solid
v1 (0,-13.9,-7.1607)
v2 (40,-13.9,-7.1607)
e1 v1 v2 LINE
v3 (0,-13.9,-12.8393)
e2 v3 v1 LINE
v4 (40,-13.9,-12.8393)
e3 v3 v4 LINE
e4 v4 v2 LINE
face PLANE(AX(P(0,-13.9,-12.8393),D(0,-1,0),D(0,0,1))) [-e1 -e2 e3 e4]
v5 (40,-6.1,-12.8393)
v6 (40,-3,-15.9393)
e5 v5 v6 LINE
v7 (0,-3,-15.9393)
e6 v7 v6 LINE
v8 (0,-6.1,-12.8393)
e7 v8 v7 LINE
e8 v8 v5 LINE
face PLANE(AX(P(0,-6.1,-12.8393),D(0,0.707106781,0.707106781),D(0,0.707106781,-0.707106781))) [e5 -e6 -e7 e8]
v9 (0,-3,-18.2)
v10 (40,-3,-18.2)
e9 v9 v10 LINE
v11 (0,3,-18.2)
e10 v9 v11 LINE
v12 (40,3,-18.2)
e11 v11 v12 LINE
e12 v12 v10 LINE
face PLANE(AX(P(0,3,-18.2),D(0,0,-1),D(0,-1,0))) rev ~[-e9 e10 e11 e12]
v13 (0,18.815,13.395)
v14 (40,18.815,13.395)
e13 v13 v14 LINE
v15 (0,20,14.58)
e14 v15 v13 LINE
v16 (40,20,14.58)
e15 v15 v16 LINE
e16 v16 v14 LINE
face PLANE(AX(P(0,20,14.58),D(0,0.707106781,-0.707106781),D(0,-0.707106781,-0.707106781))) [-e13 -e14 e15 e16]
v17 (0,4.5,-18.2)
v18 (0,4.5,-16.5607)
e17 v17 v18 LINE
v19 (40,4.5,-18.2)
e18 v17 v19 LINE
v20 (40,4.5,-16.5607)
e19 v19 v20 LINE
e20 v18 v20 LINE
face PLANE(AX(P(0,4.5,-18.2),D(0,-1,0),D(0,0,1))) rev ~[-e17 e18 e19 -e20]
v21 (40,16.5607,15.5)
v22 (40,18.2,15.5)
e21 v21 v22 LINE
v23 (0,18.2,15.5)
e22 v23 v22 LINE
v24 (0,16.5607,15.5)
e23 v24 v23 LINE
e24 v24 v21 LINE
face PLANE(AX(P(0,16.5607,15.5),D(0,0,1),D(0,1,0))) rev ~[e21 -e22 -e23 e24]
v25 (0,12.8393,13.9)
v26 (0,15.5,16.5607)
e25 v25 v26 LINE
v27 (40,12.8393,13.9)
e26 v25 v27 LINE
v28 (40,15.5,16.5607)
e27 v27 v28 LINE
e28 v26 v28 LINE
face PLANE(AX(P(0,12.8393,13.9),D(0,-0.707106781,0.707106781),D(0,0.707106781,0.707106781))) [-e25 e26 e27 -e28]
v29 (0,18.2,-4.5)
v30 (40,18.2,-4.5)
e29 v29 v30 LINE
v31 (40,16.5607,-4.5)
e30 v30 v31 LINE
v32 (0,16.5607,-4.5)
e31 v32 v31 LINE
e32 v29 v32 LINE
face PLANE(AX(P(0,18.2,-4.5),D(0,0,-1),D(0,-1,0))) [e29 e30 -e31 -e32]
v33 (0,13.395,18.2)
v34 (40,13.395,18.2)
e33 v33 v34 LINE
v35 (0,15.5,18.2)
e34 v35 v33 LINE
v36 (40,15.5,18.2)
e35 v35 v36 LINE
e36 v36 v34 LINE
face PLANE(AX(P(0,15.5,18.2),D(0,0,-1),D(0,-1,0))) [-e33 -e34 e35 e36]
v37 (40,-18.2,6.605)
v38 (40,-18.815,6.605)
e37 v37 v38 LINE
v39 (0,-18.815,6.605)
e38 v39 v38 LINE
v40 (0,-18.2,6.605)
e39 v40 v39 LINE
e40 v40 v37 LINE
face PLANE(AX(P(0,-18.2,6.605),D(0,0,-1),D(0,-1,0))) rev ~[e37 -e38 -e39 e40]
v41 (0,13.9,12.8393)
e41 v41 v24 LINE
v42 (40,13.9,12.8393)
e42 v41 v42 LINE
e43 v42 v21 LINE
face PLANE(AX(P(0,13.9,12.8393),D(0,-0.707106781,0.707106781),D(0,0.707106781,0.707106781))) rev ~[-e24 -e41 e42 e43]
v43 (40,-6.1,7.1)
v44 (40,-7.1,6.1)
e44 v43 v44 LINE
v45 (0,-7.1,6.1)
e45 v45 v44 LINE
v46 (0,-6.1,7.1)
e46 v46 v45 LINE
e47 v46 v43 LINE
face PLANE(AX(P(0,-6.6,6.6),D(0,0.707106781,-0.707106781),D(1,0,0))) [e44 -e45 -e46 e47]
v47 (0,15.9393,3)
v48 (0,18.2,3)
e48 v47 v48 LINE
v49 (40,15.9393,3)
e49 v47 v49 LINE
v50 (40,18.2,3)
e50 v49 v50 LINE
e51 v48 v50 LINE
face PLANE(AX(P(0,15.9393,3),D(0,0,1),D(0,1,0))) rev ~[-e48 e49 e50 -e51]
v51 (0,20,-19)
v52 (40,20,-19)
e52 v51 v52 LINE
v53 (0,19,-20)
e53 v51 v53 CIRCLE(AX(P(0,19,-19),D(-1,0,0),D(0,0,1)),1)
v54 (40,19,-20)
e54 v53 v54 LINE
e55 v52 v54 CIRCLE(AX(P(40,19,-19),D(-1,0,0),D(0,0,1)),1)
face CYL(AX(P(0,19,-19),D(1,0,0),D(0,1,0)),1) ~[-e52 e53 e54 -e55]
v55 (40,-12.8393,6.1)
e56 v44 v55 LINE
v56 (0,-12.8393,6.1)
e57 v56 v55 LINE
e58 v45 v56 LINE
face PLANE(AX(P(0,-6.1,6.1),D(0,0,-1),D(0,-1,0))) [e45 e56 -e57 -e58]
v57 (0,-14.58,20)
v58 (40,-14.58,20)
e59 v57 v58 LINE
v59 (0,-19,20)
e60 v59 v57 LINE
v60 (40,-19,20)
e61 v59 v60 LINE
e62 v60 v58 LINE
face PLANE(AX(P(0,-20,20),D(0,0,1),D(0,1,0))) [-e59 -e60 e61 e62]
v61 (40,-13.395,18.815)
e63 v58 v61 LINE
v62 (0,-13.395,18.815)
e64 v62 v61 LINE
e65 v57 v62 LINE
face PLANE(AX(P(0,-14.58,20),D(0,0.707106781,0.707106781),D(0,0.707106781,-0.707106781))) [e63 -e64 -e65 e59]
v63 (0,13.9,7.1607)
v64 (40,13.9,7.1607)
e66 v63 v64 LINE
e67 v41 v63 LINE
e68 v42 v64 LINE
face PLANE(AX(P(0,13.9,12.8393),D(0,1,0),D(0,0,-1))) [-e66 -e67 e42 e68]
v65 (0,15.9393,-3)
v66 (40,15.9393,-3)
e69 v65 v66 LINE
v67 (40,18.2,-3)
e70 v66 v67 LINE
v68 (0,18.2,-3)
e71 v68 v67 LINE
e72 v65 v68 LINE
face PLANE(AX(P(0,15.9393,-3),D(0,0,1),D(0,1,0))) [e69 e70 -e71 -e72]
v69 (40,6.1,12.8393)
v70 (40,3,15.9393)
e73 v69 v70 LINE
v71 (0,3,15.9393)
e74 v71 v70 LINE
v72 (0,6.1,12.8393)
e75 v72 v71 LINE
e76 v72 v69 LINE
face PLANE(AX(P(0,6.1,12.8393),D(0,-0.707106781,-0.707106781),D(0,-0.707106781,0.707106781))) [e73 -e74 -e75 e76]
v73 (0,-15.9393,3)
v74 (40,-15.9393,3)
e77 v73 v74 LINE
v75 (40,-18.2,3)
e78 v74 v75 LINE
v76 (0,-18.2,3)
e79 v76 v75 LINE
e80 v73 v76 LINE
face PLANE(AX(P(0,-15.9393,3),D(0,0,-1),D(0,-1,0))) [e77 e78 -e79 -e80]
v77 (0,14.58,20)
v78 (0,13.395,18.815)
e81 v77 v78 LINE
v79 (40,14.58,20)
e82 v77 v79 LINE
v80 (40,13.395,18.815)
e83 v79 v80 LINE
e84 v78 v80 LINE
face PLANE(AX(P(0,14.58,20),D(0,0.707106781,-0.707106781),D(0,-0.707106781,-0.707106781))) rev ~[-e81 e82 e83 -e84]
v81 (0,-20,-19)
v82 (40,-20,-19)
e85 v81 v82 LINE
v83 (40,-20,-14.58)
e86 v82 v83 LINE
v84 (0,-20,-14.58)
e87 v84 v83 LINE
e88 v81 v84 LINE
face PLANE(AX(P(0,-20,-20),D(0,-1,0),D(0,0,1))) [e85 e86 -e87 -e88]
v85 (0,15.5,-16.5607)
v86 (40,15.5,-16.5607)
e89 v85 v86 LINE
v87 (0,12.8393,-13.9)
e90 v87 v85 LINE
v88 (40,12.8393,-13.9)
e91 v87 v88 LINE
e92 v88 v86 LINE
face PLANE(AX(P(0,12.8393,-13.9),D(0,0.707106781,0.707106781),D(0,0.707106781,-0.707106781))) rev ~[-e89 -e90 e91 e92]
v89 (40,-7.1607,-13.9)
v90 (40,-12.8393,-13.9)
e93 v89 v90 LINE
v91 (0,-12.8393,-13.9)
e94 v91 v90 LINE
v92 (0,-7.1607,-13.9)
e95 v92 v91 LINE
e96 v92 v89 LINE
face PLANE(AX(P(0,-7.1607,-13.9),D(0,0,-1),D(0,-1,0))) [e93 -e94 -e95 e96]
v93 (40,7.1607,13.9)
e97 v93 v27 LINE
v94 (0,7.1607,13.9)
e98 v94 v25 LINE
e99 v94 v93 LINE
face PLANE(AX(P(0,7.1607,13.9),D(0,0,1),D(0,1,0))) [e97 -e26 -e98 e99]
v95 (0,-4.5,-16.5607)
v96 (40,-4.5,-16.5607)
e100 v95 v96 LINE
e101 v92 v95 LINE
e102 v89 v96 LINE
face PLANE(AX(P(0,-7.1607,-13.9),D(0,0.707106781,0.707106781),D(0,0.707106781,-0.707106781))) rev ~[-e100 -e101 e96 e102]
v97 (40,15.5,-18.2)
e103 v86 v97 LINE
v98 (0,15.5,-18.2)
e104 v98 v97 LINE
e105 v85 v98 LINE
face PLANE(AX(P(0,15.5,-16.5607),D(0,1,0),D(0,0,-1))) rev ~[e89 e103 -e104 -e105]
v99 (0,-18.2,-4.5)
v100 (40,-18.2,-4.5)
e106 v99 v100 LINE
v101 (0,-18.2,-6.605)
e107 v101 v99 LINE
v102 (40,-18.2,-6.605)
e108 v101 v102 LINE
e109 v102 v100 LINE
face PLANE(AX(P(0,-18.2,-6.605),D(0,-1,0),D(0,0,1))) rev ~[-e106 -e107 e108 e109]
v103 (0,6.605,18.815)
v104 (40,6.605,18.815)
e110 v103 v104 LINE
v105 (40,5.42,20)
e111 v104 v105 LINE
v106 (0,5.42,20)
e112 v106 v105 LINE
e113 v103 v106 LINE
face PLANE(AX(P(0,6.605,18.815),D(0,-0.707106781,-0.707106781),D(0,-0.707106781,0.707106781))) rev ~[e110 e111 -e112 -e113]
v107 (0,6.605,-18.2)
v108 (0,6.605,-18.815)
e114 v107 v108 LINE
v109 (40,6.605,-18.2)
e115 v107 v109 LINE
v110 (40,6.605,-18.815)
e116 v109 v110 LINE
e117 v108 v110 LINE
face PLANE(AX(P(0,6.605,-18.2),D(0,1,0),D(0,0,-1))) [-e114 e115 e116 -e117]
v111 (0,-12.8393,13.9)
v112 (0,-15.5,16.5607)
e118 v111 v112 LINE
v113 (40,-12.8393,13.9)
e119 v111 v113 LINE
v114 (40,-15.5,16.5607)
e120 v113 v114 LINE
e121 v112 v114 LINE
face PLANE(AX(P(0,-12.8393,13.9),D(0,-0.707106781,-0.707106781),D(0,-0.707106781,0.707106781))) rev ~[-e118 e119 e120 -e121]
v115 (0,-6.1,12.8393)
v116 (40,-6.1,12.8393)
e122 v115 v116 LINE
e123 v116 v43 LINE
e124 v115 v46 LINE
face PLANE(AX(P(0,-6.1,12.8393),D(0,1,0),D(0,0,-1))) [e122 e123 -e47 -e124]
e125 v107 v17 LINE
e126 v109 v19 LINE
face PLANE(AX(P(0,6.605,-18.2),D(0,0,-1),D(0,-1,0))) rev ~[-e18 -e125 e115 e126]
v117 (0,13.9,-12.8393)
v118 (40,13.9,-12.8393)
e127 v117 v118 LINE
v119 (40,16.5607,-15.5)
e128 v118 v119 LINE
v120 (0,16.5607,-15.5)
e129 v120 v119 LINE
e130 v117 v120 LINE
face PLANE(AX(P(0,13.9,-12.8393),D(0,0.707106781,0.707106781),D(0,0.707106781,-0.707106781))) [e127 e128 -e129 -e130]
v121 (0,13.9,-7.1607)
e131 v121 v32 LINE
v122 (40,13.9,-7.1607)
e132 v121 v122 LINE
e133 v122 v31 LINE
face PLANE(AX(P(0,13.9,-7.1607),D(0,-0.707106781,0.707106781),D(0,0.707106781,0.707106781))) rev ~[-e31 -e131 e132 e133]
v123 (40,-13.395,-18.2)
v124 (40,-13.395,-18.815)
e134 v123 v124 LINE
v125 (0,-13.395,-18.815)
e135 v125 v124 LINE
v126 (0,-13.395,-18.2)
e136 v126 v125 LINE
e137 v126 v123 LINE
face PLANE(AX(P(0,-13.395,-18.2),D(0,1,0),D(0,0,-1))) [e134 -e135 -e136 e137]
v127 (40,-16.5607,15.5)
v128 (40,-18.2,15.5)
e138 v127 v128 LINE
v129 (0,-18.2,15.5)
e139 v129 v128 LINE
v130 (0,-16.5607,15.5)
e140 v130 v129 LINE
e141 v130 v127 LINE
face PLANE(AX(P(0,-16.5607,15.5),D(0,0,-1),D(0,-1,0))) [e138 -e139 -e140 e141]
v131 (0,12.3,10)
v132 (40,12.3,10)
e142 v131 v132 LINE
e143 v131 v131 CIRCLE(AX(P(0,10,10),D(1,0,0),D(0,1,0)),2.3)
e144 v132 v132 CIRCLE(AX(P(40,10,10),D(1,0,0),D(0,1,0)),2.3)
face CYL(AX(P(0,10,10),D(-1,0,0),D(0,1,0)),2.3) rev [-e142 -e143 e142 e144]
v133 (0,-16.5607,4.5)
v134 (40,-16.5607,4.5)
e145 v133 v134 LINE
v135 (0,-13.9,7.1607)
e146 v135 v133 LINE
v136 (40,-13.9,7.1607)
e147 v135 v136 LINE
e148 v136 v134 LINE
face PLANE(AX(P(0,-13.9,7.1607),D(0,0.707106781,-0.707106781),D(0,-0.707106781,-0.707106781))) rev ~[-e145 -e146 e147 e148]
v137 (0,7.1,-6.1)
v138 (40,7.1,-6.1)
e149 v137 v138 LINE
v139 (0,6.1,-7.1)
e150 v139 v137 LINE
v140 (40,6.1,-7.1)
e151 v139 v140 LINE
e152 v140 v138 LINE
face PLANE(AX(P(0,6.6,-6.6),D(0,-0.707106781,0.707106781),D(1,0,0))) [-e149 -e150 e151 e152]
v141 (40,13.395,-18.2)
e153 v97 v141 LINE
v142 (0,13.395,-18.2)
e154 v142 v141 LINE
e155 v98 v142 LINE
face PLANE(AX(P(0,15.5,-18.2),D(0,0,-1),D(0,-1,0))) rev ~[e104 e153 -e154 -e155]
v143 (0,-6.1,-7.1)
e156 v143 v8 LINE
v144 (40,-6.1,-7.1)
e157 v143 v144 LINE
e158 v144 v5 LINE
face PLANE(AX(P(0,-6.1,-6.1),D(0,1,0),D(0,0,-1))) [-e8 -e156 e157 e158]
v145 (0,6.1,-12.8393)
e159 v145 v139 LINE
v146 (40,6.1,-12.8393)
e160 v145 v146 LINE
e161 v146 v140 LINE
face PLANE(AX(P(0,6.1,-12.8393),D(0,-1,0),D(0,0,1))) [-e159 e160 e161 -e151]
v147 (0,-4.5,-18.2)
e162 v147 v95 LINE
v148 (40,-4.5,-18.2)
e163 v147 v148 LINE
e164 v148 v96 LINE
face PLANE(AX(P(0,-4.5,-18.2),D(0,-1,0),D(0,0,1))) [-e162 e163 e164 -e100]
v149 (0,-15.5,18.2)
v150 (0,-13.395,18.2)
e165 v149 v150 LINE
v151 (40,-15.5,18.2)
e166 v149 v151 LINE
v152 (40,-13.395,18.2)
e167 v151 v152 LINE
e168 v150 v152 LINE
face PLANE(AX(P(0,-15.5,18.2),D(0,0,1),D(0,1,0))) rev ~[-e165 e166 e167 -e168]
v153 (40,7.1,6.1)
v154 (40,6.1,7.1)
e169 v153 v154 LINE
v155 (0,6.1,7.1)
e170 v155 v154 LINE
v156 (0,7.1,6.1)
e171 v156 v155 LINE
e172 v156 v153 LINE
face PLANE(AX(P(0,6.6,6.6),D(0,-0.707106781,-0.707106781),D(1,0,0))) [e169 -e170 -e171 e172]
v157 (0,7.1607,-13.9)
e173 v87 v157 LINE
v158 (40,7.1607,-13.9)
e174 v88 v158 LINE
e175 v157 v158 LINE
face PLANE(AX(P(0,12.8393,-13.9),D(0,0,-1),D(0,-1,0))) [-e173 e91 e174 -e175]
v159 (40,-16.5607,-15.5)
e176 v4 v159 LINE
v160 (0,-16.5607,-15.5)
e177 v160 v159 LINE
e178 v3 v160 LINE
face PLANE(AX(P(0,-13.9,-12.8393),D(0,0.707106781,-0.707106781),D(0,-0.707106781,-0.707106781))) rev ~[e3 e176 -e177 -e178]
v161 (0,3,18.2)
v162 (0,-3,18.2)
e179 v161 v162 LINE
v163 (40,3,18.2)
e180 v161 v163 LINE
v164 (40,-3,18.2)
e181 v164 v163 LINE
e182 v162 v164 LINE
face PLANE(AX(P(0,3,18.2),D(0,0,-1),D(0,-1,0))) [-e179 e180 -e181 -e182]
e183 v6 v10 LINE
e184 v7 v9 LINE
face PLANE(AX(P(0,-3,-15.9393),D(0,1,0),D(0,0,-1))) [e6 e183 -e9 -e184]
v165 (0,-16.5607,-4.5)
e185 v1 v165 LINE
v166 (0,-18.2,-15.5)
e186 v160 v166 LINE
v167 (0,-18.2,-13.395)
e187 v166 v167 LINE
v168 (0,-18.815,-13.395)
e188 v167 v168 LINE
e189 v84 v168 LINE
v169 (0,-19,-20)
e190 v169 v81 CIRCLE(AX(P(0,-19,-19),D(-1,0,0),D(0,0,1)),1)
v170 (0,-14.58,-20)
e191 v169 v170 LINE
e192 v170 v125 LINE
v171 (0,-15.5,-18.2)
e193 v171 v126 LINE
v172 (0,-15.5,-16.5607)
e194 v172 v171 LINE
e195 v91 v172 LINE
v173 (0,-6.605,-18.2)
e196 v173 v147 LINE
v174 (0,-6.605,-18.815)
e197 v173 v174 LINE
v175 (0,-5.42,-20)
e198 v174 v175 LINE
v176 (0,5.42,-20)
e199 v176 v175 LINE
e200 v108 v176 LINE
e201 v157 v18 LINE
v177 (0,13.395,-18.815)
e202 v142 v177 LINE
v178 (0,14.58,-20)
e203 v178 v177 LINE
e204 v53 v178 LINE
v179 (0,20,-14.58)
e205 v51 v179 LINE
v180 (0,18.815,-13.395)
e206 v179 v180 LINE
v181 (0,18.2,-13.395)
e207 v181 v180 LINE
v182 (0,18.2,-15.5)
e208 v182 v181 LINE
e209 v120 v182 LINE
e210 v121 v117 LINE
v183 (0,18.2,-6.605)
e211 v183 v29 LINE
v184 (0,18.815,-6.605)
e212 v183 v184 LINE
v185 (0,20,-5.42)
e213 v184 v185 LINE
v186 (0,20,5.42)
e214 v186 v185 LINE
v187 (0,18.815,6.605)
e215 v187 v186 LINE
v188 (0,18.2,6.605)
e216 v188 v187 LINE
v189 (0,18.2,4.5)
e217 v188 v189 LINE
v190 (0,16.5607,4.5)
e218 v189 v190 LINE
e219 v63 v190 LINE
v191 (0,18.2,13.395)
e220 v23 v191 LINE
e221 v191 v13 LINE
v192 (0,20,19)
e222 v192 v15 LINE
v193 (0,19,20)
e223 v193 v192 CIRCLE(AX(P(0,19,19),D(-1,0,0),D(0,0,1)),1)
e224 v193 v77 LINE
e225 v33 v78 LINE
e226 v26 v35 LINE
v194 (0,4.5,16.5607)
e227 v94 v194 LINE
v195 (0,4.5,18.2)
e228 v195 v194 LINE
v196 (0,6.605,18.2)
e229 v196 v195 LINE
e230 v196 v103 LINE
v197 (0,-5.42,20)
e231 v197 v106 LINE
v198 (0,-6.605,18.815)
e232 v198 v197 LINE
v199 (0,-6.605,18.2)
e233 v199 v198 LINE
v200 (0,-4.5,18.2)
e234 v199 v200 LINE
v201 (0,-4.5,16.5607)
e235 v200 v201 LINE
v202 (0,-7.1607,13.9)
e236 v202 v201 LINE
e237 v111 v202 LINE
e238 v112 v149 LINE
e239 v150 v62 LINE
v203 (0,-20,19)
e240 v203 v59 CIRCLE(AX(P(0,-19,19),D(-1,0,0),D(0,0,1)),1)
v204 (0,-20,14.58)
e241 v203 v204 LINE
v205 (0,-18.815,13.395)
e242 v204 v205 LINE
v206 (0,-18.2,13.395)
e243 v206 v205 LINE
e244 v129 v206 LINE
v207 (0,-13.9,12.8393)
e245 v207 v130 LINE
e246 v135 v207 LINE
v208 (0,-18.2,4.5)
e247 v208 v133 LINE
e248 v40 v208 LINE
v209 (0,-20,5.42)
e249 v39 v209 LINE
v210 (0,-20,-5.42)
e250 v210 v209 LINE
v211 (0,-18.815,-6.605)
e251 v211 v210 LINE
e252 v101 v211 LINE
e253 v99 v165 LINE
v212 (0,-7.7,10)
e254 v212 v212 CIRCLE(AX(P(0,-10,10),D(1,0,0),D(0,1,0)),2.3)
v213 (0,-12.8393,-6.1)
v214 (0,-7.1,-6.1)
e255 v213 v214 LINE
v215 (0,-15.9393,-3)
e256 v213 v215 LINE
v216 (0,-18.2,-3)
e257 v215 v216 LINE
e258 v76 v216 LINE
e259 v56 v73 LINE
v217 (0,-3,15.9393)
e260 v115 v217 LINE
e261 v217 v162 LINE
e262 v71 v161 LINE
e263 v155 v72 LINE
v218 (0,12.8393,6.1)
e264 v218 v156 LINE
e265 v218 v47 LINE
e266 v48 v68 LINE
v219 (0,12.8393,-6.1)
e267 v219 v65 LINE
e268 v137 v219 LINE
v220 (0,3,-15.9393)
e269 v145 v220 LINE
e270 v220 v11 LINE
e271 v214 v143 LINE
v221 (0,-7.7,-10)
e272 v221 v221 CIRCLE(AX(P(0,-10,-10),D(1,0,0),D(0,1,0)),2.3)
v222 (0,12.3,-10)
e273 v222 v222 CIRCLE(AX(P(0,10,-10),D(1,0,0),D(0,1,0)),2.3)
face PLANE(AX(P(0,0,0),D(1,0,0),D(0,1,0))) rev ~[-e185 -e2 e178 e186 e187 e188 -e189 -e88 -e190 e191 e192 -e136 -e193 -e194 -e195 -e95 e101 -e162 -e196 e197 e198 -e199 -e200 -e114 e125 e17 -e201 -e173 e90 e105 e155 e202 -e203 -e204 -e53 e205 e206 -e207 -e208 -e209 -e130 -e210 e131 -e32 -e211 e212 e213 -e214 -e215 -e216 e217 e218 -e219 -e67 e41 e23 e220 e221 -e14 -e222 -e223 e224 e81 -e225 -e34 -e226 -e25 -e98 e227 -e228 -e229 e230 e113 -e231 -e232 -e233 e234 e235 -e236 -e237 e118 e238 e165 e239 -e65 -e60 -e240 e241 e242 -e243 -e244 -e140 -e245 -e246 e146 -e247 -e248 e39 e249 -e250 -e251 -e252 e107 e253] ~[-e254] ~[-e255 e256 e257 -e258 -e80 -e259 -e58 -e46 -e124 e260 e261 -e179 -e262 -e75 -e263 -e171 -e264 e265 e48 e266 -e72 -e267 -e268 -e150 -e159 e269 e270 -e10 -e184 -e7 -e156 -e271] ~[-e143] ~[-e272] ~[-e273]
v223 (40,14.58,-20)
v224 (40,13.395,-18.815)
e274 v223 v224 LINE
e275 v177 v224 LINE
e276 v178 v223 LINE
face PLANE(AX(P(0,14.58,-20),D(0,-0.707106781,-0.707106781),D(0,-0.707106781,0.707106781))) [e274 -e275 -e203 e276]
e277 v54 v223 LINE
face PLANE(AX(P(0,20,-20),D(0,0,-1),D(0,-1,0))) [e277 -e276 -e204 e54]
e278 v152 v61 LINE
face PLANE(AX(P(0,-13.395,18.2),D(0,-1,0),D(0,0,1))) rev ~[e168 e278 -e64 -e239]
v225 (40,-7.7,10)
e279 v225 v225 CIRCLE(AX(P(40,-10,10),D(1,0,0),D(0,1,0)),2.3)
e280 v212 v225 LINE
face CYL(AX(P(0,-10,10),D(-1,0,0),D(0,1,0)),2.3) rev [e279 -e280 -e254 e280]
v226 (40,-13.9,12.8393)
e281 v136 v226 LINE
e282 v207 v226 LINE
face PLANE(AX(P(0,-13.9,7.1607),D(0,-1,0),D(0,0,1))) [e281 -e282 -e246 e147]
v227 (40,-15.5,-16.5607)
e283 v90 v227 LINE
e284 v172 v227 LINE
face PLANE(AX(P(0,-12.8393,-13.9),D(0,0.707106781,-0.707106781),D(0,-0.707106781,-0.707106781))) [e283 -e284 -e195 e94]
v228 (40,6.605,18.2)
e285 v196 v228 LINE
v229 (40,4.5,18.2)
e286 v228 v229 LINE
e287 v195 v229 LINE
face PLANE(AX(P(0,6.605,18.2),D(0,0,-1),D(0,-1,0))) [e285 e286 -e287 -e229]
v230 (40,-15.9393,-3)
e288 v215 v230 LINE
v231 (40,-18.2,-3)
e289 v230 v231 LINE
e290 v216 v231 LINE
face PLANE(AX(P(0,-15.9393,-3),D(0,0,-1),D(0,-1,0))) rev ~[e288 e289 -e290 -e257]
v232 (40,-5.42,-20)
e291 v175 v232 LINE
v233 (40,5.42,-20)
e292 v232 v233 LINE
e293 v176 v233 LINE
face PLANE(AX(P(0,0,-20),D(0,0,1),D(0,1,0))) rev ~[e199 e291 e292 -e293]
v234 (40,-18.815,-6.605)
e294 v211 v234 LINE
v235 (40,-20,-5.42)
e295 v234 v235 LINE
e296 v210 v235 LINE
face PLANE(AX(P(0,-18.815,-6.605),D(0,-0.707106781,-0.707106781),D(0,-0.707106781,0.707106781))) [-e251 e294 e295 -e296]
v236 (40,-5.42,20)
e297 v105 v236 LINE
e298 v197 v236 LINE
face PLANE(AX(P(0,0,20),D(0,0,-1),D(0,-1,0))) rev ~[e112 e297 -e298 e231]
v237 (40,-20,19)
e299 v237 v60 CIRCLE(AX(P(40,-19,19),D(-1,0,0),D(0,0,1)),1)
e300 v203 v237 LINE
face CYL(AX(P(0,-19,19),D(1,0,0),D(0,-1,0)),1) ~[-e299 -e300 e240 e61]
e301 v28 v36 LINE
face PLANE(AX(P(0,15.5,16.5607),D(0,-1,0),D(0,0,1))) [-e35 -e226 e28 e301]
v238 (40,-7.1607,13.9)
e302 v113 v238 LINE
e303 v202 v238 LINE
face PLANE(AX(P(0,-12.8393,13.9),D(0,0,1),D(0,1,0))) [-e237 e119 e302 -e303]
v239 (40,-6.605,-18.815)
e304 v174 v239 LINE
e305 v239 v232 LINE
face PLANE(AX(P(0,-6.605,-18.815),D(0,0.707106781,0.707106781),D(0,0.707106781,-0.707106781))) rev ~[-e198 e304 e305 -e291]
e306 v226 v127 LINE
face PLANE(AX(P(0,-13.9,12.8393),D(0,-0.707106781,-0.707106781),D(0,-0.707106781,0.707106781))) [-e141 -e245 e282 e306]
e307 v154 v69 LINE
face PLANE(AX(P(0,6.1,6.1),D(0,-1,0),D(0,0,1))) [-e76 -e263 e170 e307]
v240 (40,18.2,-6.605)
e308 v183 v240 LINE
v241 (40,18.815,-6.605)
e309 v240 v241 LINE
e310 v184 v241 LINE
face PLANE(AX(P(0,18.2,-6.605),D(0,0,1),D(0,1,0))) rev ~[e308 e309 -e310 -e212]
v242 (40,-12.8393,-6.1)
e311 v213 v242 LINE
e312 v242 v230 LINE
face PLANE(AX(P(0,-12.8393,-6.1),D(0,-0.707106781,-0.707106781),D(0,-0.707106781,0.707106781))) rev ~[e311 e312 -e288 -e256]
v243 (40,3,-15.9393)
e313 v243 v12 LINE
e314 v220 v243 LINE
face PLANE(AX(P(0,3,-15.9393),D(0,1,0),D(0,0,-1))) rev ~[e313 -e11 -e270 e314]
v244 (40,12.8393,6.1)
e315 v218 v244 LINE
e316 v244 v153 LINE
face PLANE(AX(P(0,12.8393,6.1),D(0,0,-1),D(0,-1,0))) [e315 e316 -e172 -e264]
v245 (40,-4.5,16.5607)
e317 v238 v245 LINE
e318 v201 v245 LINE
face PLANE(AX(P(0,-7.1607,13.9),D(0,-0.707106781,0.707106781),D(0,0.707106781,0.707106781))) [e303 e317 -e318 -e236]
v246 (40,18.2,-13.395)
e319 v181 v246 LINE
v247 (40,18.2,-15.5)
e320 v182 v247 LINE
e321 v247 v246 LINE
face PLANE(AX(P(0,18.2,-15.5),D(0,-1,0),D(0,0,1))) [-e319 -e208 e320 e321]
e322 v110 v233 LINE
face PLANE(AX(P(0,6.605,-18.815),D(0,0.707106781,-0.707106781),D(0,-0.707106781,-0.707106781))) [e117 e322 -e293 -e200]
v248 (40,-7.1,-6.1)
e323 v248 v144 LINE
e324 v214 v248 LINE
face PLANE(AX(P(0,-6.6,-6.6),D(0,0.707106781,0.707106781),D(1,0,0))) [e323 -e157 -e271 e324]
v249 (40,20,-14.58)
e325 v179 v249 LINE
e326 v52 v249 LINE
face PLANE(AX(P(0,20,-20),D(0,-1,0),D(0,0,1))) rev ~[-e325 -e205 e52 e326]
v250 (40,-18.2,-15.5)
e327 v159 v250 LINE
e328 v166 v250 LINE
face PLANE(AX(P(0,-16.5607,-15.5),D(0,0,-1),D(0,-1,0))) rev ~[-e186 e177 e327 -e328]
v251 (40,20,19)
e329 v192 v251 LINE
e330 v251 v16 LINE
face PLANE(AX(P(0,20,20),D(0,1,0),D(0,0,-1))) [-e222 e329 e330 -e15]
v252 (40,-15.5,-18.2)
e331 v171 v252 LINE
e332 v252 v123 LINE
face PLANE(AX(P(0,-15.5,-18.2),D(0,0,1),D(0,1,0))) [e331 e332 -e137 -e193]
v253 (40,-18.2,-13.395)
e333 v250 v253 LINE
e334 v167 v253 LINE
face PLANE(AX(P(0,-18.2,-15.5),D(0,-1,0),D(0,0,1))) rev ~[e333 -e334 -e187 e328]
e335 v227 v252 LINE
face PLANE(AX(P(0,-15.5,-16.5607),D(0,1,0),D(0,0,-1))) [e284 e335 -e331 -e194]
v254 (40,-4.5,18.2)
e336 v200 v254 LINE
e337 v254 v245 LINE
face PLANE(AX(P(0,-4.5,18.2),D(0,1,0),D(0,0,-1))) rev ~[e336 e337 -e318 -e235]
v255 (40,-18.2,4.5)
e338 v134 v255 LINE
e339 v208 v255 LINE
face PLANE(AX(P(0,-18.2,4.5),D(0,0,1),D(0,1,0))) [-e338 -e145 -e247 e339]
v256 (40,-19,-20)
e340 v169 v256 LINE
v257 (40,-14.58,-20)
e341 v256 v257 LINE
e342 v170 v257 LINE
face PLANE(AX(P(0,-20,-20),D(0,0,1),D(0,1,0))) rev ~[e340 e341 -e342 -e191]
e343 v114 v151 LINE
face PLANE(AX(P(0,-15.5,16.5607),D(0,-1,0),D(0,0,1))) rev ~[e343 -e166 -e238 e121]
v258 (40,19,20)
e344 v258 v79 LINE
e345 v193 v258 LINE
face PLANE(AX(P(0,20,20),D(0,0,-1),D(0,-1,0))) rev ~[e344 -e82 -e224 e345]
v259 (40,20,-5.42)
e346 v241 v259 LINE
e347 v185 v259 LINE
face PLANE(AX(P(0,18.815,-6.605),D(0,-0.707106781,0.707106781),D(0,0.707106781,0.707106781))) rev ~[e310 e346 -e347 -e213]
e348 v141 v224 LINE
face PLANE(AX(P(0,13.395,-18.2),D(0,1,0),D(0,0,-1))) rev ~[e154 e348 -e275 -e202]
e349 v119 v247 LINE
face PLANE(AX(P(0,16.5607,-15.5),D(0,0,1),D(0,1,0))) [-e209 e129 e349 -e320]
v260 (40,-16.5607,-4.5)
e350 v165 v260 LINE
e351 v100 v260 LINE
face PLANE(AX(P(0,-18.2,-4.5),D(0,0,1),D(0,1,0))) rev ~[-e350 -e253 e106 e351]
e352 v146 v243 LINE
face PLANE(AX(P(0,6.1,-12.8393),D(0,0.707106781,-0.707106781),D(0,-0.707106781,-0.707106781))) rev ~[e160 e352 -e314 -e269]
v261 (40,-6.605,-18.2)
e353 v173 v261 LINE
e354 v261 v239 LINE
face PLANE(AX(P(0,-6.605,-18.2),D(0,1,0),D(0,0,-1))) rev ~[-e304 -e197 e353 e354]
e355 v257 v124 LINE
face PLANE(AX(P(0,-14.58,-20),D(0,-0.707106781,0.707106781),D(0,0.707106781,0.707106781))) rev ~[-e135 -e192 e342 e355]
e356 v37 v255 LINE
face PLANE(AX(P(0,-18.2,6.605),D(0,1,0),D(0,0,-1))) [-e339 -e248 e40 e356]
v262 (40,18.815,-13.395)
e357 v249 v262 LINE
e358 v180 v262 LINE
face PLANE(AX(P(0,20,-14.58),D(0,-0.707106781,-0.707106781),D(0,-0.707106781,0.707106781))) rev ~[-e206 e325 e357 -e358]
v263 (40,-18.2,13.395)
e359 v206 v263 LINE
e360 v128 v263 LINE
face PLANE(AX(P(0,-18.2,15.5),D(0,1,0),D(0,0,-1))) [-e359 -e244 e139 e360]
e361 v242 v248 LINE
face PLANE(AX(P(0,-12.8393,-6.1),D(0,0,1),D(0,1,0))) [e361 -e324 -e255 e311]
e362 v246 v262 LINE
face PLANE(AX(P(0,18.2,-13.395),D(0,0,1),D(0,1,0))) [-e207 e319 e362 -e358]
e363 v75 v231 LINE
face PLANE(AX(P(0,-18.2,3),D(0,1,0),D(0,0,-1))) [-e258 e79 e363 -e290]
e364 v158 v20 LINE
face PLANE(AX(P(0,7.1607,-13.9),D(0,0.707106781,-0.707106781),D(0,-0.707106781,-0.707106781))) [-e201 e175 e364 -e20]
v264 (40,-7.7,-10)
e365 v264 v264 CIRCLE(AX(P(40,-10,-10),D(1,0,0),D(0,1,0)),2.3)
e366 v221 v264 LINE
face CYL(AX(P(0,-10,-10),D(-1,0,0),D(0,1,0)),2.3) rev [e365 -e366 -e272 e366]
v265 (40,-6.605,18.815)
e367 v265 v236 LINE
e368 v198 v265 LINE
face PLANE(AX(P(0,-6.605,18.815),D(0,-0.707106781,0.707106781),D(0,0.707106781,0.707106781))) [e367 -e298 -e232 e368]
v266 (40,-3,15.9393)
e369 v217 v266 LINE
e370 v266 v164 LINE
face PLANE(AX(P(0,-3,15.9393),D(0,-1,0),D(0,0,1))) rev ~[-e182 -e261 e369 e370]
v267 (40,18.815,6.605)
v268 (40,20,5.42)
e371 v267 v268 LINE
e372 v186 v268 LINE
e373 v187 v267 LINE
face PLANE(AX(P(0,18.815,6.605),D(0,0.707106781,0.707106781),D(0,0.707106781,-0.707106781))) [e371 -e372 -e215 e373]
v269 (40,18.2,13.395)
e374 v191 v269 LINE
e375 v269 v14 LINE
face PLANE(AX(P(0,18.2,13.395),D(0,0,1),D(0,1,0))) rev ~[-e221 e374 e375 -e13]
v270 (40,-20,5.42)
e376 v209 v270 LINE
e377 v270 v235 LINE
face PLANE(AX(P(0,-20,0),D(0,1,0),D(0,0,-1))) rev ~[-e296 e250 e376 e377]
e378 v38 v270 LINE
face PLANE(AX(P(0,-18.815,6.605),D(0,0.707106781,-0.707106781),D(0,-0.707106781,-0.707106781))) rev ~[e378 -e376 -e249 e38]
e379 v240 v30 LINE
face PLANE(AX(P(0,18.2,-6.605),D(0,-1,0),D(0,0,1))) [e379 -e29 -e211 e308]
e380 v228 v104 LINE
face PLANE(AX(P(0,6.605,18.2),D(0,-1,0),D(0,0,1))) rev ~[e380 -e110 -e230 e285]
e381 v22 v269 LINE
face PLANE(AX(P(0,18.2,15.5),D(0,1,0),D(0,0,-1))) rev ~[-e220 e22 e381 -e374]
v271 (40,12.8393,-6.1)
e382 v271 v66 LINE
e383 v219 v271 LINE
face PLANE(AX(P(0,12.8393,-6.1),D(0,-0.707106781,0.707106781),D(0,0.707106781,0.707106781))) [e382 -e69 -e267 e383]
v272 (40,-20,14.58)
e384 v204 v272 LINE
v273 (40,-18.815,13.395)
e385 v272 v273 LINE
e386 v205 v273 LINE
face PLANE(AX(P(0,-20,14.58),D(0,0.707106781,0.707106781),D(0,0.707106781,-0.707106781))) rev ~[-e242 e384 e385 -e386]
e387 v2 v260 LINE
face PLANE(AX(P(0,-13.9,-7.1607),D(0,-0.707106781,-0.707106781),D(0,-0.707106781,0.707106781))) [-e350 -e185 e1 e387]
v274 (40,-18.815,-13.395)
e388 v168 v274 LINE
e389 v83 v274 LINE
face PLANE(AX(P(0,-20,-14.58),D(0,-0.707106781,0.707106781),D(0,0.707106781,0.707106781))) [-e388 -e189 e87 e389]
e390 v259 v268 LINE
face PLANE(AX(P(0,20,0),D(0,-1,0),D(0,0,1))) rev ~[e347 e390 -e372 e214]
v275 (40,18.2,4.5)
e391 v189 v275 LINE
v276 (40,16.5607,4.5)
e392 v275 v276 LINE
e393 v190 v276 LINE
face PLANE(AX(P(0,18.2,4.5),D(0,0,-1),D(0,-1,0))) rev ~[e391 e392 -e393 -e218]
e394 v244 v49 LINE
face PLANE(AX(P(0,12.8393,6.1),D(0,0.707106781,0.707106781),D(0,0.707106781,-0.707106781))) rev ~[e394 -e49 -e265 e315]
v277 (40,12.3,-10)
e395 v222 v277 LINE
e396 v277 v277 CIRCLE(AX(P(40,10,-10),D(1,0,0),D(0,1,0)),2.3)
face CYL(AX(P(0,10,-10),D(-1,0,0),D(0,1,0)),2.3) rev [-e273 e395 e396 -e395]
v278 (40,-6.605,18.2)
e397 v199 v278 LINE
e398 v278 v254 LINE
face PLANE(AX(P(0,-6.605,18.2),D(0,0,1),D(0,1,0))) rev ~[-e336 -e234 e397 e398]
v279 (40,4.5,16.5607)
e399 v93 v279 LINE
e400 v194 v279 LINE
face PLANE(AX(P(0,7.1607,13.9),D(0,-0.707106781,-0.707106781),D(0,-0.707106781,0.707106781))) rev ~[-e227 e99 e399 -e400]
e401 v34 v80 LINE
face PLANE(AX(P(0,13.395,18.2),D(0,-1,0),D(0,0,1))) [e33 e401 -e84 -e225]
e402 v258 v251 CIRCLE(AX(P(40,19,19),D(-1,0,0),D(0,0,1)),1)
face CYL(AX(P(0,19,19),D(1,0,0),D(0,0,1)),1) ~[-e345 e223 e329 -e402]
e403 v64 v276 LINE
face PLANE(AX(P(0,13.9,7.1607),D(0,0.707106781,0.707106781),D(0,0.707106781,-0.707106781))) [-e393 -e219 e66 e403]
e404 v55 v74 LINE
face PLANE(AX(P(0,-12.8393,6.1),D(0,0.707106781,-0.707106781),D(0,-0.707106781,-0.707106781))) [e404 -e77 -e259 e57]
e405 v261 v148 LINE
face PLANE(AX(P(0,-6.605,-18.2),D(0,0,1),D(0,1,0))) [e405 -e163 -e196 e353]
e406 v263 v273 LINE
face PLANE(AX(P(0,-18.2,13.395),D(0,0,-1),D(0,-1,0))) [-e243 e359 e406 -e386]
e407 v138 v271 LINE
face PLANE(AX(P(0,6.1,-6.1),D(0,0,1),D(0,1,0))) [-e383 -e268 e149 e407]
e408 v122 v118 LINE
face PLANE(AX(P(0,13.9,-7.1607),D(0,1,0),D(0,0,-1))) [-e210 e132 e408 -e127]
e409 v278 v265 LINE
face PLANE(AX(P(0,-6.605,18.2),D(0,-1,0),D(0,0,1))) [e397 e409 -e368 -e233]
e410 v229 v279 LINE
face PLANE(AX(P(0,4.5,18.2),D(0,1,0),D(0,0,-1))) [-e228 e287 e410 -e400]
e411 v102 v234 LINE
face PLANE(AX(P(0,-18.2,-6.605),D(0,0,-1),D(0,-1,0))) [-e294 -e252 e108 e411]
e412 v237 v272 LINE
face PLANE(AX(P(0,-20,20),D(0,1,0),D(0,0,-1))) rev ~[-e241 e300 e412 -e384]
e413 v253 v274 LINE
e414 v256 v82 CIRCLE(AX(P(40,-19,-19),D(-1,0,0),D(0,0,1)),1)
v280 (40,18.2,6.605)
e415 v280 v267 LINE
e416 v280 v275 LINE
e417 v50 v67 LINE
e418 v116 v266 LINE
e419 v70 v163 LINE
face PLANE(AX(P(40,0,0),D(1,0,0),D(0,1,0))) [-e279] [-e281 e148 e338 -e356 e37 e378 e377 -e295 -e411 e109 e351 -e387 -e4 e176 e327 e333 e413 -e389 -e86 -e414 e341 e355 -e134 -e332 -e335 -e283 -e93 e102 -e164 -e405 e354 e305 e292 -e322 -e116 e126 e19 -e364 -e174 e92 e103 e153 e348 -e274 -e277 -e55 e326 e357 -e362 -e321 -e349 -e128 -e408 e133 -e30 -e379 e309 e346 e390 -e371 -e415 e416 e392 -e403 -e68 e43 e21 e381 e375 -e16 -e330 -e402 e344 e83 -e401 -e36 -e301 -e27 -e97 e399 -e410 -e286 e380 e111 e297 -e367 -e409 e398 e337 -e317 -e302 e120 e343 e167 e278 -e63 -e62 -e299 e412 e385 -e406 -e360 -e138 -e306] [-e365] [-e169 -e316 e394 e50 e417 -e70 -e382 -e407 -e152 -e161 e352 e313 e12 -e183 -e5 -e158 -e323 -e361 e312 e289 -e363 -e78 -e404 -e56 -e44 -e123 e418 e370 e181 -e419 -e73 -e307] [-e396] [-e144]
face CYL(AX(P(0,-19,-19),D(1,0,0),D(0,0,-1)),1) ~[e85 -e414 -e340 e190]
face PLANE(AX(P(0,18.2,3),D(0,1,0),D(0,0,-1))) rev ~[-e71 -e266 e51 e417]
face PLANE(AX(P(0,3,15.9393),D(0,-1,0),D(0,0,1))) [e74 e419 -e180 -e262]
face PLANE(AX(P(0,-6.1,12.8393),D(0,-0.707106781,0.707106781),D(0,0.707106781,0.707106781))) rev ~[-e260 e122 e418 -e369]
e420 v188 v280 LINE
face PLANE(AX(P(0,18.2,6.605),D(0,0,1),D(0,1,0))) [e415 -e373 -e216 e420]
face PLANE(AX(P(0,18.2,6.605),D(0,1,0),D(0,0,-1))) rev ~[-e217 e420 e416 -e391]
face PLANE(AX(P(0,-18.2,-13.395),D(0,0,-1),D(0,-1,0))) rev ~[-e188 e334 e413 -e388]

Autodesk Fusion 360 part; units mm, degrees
sketch "Sketch1" plane through (0, 0, 0) normal (1, 0, 0) x (0, 1, 0)
  line L0 (20, 20) -> (-20, 20) construction
  line L1 (-20, 20) -> (-20, -20) construction
  line L2 (-20, -20) -> (20, -20) construction
  line L3 (20, -20) -> (20, 20) construction
  line L4 (20, 20) -> (-20, -20) construction
  line L5 (-20, 20) -> (20, -20) construction
  circle A0 centre (-10, 10) radius 2.3
  circle A1 centre (10, 10) radius 2.3
  circle A2 centre (-10, -10) radius 2.3
  circle A3 centre (10, -10) radius 2.3
  line L6 (18.2, 18.2) -> (-18.2, 18.2) construction
  line L7 (-18.2, 18.2) -> (-18.2, -18.2) construction
  line L8 (-18.2, -18.2) -> (18.2, -18.2) construction
  line L9 (18.2, -18.2) -> (18.2, 18.2) construction
  line L10 (-13.9, 12.8393) -> (-13.9, -12.8393) construction
  line L11 (-13.9, -13.9) -> (12.8393, -13.9) construction
  line L12 (13.9, -12.8393) -> (13.9, 12.8393) construction
  line L13 (10, 10) -> (-10, 10) construction
  line L14 (-10, 10) -> (-10, -10) construction
  line L15 (-10, -10) -> (10, -10) construction
  line L16 (10, -10) -> (10, 10) construction
  line L17 (10, 10) -> (-10, -10) construction
  line L18 (-10, 10) -> (10, -10) construction
  line L19 (6.1, 6.1) -> (-6.1, 6.1) construction
  line L20 (-6.1, 6.1) -> (-6.1, -6.1) construction
  line L21 (-6.1, -6.1) -> (6.1, -6.1) construction
  line L22 (6.1, -6.1) -> (6.1, 6.1) construction
  line L23 (-12.8393, 13.9) -> (-7.1607, 13.9)
  line L24 (-6.1, 12.8393) -> (-6.1, 6.1)
  line L25 (-6.1, 6.1) -> (-12.8393, 6.1)
  line L26 (-13.9, 6.1) -> (-13.9, 12.8393)
  line L27 (7.1607, 13.9) -> (12.8393, 13.9)
  line L28 (13.9, 12.8393) -> (13.9, 6.1)
  line L29 (13.9, 6.1) -> (6.1, 6.1)
  line L30 (6.1, 6.1) -> (6.1, 13.9)
  line L31 (-12.8393, -6.1) -> (-6.1, -6.1)
  line L32 (-6.1, -6.1) -> (-6.1, -12.8393)
  line L33 (-6.1, -13.9) -> (-13.9, -13.9)
  line L34 (-13.9, -12.8393) -> (-13.9, -6.1)
  line L35 (6.1, -6.1) -> (12.8393, -6.1)
  line L36 (13.9, -7.1607) -> (13.9, -12.8393)
  line L37 (12.8393, -13.9) -> (6.1, -13.9)
  line L38 (6.1, -12.8393) -> (6.1, -6.1)
  line L39 (-13.9, 12.8393) -> (-16.5607, 15.5)
  line L40 (-12.8393, 13.9) -> (-15.5, 16.5607)
  line L41 (-15.5, 16.5607) -> (-15.5, 18.2)
  line L42 (-16.5607, 15.5) -> (-18.2, 15.5)
  line L43 (-4.5, 18.2) -> (-4.5, 16.5607)
  line L44 (-18.2, 4.5) -> (-17.3803, 4.5)
  line L45 (-7.1607, 13.9) -> (-4.5, 16.5607)
  line L46 (-6.1, 12.8393) -> (-3, 15.9393)
  line L47 (-3, 15.9393) -> (-3, 18.2)
  line L48 (-15.5, 18.2) -> (-13.395, 18.2)
  line L49 (-6.605, 18.2) -> (-4.5, 18.2)
  line L50 (-20, 20) -> (-14.58, 20)
  line L51 (0, 20) -> (-5.42, 20)
  line L52 (-13.395, 18.2) -> (-13.395, 18.815)
  line L53 (-6.605, 18.2) -> (-6.605, 18.815)
  line L54 (-14.58, 20) -> (-13.395, 18.815)
  line L55 (-6.605, 18.815) -> (-5.42, 20)
  line L56 (-3, 18.2) -> (0, 18.2)
  line L57 (12.8393, 13.9) -> (-6.1, 13.9) construction
  line L58 (-7.1607, 13.9) -> (-13.9, 13.9) construction
  line L59 (-13.9, 13.9) -> (-13.9, 12.8393) construction
  line L60 (-6.1, 13.9) -> (-7.1607, 13.9) construction
  line L61 (-6.1, 13.9) -> (-6.1, 12.8393) construction
  line L62 (-20, 20) -> (-20, 14.58)
  line L63 (-18.2, 13.395) -> (-18.815, 13.395)
  line L64 (-18.2, 15.5) -> (-18.2, 13.395)
  line L65 (-16.5607, 15.5) -> (-18.2, 15.5)
  line L66 (-13.9, 12.8393) -> (-16.5607, 15.5)
  line L67 (-13.9, 12.8393) -> (-13.9, 7.1607)
  line L68 (-13.9, 7.1607) -> (-16.5607, 4.5)
  line L69 (-18.2, 4.5) -> (-16.5607, 4.5)
  line L70 (-18.2, 6.605) -> (-18.2, 4.5)
  line L71 (-18.2, 6.605) -> (-18.815, 6.605)
  line L72 (-18.815, 6.605) -> (-20, 5.42)
  line L73 (-20, 0) -> (-20, 5.42)
  line L74 (-20, 14.58) -> (-18.815, 13.395)
  line L75 (-12.8393, 6.1) -> (-15.9393, 3)
  line L76 (-15.9393, 3) -> (-18.2, 3)
  line L77 (18.2, 18.2) -> (18.2, -18.2) construction
  line L78 (18.2, -18.2) -> (-18.2, -18.2) construction
  line L79 (0, 0) -> (0, 6.1) construction
  line L80 (0, 0) -> (6.1, 0) construction
  line L81 (20, 20) -> (20, 14.58)
  line L82 (20, 14.58) -> (18.815, 13.395)
  line L83 (18.2, 13.395) -> (18.815, 13.395)
  line L84 (18.2, 15.5) -> (18.2, 13.395)
  line L85 (16.5607, 15.5) -> (18.2, 15.5)
  line L86 (13.9, 12.8393) -> (16.5607, 15.5)
  line L87 (13.9, 12.8393) -> (13.9, 7.1607)
  line L88 (18.2, 4.5) -> (16.5607, 4.5)
  line L89 (18.2, 6.605) -> (18.2, 4.5)
  line L90 (18.2, 6.605) -> (18.815, 6.605)
  line L91 (18.815, 6.605) -> (20, 5.42)
  line L92 (20, 0) -> (20, 5.42)
  line L93 (13.9, 7.1607) -> (16.5607, 4.5)
  line L94 (3, 18.2) -> (0, 18.2)
  line L95 (3, 15.9393) -> (3, 18.2)
  line L96 (6.1, 12.8393) -> (3, 15.9393)
  line L97 (6.1, 12.8393) -> (6.1, 6.1)
  line L98 (6.1, 6.1) -> (12.8393, 6.1)
  line L99 (15.9393, 3) -> (18.2, 3)
  line L100 (12.8393, 6.1) -> (15.9393, 3)
  line L101 (20, 20) -> (14.58, 20)
  line L102 (14.58, 20) -> (13.395, 18.815)
  line L103 (13.395, 18.2) -> (13.395, 18.815)
  line L104 (15.5, 18.2) -> (13.395, 18.2)
  line L105 (15.5, 16.5607) -> (15.5, 18.2)
  line L106 (12.8393, 13.9) -> (15.5, 16.5607)
  line L107 (7.1607, 13.9) -> (4.5, 16.5607)
  line L108 (4.5, 18.2) -> (4.5, 16.5607)
  line L109 (6.605, 18.2) -> (4.5, 18.2)
  line L110 (6.605, 18.2) -> (6.605, 18.815)
  line L111 (6.605, 18.815) -> (5.42, 20)
  line L112 (0, 20) -> (5.42, 20)
  line L113 (12.8393, 13.9) -> (7.1607, 13.9)
  line L114 (-20, -20) -> (-20, -14.58)
  line L115 (-20, -14.58) -> (-18.815, -13.395)
  line L116 (-18.2, -13.395) -> (-18.815, -13.395)
  line L117 (-18.2, -15.5) -> (-18.2, -13.395)
  line L118 (-16.5607, -15.5) -> (-18.2, -15.5)
  line L119 (-13.9, -12.8393) -> (-16.5607, -15.5)
  line L120 (-13.9, -12.8393) -> (-13.9, -7.1607)
  line L121 (-13.9, -7.1607) -> (-16.5607, -4.5)
  line L122 (-18.2, -4.5) -> (-16.5607, -4.5)
  line L123 (-18.2, -6.605) -> (-18.2, -4.5)
  line L124 (-18.2, -6.605) -> (-18.815, -6.605)
  line L125 (-18.815, -6.605) -> (-20, -5.42)
  line L126 (-20, 0) -> (-20, -5.42)
  line L127 (-3, -18.2) -> (0, -18.2)
  line L128 (-3, -15.9393) -> (-3, -18.2)
  line L129 (-6.1, -12.8393) -> (-3, -15.9393)
  line L130 (-6.1, -12.8393) -> (-6.1, -6.1)
  line L131 (-12.8393, -6.1) -> (-15.9393, -3)
  line L132 (-15.9393, -3) -> (-18.2, -3)
  line L133 (-6.1, -6.1) -> (-12.8393, -6.1)
  line L134 (-20, -20) -> (-14.58, -20)
  line L135 (-14.58, -20) -> (-13.395, -18.815)
  line L136 (-13.395, -18.2) -> (-13.395, -18.815)
  line L137 (-15.5, -18.2) -> (-13.395, -18.2)
  line L138 (-15.5, -16.5607) -> (-15.5, -18.2)
  line L139 (-12.8393, -13.9) -> (-15.5, -16.5607)
  line L140 (-12.8393, -13.9) -> (-7.1607, -13.9)
  line L141 (-4.5, -18.2) -> (-4.5, -16.5607)
  line L142 (-6.605, -18.2) -> (-4.5, -18.2)
  line L143 (-6.605, -18.2) -> (-6.605, -18.815)
  line L144 (-6.605, -18.815) -> (-5.42, -20)
  line L145 (0, -20) -> (-5.42, -20)
  line L146 (-7.1607, -13.9) -> (-4.5, -16.5607)
  line L147 (20, -20) -> (14.58, -20)
  line L148 (14.58, -20) -> (13.395, -18.815)
  line L149 (13.395, -18.2) -> (13.395, -18.815)
  line L150 (15.5, -18.2) -> (13.395, -18.2)
  line L151 (15.5, -16.5607) -> (15.5, -18.2)
  line L152 (12.8393, -13.9) -> (15.5, -16.5607)
  line L153 (12.8393, -13.9) -> (7.1607, -13.9)
  line L154 (4.5, -18.2) -> (4.5, -16.5607)
  line L155 (6.605, -18.2) -> (4.5, -18.2)
  line L156 (6.605, -18.2) -> (6.605, -18.815)
  line L157 (6.605, -18.815) -> (5.42, -20)
  line L158 (0, -20) -> (5.42, -20)
  line L159 (7.1607, -13.9) -> (4.5, -16.5607)
  line L160 (3, -18.2) -> (0, -18.2)
  line L161 (3, -15.9393) -> (3, -18.2)
  line L162 (6.1, -12.8393) -> (3, -15.9393)
  line L163 (6.1, -6.1) -> (12.8393, -6.1)
  line L164 (12.8393, -6.1) -> (15.9393, -3)
  line L165 (15.9393, -3) -> (18.2, -3)
  line L166 (6.1, -12.8393) -> (6.1, -6.1)
  line L167 (20, -20) -> (20, -14.58)
  line L168 (20, -14.58) -> (18.815, -13.395)
  line L169 (18.2, -13.395) -> (18.815, -13.395)
  line L170 (18.2, -15.5) -> (18.2, -13.395)
  line L171 (16.5607, -15.5) -> (18.2, -15.5)
  line L172 (13.9, -12.8393) -> (16.5607, -15.5)
  line L173 (13.9, -12.8393) -> (13.9, -7.1607)
  line L174 (18.2, -4.5) -> (16.5607, -4.5)
  line L175 (18.2, -6.605) -> (18.2, -4.5)
  line L176 (18.2, -6.605) -> (18.815, -6.605)
  line L177 (18.815, -6.605) -> (20, -5.42)
  line L178 (20, 0) -> (20, -5.42)
  line L179 (-18.2, 3) -> (-18.2, -3) construction
  line L180 (-18.2, 3) -> (-18.2, -3)
  line L181 (18.2, 3) -> (18.2, -3)
  line L182 (13.9, -7.1607) -> (16.5607, -4.5)
  point P0 (-10, 10)
  dimension "d1" = 40
  dimension "d2" = 40
  dimension "d3" = 10
  dimension "d4" = 4.6
  dimension "d7" = 20
  dimension "d8" = -20
  dimension "d9" = -1.8
  dimension "d14" = -3.9
  dimension "d22" = 1.5
  dimension "d23" = 11
  dimension "d24" = 11
  dimension "d25" = 1.5
  dimension "d26" = 135
  dimension "d27" = 1.5
  dimension "d28" = 6.79
  dimension "d29" = 9.16
  dimension "d30" = 135
  dimension "d31" = 135
extrude "Extrude1" add sketch "Sketch1" along normal blind 40
chamfer "Chamfer2" distance 1 angle 45 4 edges at (20, 6.1, 6.1) (20, -6.1, 6.1) (20, -6.1, -6.1) (20, 6.1, -6.1)
fillet "Fillet1" radius 1 4 edges at (20, 20, -20) (20, -20, -20) (20, -20, 20) (20, 20, 20)
